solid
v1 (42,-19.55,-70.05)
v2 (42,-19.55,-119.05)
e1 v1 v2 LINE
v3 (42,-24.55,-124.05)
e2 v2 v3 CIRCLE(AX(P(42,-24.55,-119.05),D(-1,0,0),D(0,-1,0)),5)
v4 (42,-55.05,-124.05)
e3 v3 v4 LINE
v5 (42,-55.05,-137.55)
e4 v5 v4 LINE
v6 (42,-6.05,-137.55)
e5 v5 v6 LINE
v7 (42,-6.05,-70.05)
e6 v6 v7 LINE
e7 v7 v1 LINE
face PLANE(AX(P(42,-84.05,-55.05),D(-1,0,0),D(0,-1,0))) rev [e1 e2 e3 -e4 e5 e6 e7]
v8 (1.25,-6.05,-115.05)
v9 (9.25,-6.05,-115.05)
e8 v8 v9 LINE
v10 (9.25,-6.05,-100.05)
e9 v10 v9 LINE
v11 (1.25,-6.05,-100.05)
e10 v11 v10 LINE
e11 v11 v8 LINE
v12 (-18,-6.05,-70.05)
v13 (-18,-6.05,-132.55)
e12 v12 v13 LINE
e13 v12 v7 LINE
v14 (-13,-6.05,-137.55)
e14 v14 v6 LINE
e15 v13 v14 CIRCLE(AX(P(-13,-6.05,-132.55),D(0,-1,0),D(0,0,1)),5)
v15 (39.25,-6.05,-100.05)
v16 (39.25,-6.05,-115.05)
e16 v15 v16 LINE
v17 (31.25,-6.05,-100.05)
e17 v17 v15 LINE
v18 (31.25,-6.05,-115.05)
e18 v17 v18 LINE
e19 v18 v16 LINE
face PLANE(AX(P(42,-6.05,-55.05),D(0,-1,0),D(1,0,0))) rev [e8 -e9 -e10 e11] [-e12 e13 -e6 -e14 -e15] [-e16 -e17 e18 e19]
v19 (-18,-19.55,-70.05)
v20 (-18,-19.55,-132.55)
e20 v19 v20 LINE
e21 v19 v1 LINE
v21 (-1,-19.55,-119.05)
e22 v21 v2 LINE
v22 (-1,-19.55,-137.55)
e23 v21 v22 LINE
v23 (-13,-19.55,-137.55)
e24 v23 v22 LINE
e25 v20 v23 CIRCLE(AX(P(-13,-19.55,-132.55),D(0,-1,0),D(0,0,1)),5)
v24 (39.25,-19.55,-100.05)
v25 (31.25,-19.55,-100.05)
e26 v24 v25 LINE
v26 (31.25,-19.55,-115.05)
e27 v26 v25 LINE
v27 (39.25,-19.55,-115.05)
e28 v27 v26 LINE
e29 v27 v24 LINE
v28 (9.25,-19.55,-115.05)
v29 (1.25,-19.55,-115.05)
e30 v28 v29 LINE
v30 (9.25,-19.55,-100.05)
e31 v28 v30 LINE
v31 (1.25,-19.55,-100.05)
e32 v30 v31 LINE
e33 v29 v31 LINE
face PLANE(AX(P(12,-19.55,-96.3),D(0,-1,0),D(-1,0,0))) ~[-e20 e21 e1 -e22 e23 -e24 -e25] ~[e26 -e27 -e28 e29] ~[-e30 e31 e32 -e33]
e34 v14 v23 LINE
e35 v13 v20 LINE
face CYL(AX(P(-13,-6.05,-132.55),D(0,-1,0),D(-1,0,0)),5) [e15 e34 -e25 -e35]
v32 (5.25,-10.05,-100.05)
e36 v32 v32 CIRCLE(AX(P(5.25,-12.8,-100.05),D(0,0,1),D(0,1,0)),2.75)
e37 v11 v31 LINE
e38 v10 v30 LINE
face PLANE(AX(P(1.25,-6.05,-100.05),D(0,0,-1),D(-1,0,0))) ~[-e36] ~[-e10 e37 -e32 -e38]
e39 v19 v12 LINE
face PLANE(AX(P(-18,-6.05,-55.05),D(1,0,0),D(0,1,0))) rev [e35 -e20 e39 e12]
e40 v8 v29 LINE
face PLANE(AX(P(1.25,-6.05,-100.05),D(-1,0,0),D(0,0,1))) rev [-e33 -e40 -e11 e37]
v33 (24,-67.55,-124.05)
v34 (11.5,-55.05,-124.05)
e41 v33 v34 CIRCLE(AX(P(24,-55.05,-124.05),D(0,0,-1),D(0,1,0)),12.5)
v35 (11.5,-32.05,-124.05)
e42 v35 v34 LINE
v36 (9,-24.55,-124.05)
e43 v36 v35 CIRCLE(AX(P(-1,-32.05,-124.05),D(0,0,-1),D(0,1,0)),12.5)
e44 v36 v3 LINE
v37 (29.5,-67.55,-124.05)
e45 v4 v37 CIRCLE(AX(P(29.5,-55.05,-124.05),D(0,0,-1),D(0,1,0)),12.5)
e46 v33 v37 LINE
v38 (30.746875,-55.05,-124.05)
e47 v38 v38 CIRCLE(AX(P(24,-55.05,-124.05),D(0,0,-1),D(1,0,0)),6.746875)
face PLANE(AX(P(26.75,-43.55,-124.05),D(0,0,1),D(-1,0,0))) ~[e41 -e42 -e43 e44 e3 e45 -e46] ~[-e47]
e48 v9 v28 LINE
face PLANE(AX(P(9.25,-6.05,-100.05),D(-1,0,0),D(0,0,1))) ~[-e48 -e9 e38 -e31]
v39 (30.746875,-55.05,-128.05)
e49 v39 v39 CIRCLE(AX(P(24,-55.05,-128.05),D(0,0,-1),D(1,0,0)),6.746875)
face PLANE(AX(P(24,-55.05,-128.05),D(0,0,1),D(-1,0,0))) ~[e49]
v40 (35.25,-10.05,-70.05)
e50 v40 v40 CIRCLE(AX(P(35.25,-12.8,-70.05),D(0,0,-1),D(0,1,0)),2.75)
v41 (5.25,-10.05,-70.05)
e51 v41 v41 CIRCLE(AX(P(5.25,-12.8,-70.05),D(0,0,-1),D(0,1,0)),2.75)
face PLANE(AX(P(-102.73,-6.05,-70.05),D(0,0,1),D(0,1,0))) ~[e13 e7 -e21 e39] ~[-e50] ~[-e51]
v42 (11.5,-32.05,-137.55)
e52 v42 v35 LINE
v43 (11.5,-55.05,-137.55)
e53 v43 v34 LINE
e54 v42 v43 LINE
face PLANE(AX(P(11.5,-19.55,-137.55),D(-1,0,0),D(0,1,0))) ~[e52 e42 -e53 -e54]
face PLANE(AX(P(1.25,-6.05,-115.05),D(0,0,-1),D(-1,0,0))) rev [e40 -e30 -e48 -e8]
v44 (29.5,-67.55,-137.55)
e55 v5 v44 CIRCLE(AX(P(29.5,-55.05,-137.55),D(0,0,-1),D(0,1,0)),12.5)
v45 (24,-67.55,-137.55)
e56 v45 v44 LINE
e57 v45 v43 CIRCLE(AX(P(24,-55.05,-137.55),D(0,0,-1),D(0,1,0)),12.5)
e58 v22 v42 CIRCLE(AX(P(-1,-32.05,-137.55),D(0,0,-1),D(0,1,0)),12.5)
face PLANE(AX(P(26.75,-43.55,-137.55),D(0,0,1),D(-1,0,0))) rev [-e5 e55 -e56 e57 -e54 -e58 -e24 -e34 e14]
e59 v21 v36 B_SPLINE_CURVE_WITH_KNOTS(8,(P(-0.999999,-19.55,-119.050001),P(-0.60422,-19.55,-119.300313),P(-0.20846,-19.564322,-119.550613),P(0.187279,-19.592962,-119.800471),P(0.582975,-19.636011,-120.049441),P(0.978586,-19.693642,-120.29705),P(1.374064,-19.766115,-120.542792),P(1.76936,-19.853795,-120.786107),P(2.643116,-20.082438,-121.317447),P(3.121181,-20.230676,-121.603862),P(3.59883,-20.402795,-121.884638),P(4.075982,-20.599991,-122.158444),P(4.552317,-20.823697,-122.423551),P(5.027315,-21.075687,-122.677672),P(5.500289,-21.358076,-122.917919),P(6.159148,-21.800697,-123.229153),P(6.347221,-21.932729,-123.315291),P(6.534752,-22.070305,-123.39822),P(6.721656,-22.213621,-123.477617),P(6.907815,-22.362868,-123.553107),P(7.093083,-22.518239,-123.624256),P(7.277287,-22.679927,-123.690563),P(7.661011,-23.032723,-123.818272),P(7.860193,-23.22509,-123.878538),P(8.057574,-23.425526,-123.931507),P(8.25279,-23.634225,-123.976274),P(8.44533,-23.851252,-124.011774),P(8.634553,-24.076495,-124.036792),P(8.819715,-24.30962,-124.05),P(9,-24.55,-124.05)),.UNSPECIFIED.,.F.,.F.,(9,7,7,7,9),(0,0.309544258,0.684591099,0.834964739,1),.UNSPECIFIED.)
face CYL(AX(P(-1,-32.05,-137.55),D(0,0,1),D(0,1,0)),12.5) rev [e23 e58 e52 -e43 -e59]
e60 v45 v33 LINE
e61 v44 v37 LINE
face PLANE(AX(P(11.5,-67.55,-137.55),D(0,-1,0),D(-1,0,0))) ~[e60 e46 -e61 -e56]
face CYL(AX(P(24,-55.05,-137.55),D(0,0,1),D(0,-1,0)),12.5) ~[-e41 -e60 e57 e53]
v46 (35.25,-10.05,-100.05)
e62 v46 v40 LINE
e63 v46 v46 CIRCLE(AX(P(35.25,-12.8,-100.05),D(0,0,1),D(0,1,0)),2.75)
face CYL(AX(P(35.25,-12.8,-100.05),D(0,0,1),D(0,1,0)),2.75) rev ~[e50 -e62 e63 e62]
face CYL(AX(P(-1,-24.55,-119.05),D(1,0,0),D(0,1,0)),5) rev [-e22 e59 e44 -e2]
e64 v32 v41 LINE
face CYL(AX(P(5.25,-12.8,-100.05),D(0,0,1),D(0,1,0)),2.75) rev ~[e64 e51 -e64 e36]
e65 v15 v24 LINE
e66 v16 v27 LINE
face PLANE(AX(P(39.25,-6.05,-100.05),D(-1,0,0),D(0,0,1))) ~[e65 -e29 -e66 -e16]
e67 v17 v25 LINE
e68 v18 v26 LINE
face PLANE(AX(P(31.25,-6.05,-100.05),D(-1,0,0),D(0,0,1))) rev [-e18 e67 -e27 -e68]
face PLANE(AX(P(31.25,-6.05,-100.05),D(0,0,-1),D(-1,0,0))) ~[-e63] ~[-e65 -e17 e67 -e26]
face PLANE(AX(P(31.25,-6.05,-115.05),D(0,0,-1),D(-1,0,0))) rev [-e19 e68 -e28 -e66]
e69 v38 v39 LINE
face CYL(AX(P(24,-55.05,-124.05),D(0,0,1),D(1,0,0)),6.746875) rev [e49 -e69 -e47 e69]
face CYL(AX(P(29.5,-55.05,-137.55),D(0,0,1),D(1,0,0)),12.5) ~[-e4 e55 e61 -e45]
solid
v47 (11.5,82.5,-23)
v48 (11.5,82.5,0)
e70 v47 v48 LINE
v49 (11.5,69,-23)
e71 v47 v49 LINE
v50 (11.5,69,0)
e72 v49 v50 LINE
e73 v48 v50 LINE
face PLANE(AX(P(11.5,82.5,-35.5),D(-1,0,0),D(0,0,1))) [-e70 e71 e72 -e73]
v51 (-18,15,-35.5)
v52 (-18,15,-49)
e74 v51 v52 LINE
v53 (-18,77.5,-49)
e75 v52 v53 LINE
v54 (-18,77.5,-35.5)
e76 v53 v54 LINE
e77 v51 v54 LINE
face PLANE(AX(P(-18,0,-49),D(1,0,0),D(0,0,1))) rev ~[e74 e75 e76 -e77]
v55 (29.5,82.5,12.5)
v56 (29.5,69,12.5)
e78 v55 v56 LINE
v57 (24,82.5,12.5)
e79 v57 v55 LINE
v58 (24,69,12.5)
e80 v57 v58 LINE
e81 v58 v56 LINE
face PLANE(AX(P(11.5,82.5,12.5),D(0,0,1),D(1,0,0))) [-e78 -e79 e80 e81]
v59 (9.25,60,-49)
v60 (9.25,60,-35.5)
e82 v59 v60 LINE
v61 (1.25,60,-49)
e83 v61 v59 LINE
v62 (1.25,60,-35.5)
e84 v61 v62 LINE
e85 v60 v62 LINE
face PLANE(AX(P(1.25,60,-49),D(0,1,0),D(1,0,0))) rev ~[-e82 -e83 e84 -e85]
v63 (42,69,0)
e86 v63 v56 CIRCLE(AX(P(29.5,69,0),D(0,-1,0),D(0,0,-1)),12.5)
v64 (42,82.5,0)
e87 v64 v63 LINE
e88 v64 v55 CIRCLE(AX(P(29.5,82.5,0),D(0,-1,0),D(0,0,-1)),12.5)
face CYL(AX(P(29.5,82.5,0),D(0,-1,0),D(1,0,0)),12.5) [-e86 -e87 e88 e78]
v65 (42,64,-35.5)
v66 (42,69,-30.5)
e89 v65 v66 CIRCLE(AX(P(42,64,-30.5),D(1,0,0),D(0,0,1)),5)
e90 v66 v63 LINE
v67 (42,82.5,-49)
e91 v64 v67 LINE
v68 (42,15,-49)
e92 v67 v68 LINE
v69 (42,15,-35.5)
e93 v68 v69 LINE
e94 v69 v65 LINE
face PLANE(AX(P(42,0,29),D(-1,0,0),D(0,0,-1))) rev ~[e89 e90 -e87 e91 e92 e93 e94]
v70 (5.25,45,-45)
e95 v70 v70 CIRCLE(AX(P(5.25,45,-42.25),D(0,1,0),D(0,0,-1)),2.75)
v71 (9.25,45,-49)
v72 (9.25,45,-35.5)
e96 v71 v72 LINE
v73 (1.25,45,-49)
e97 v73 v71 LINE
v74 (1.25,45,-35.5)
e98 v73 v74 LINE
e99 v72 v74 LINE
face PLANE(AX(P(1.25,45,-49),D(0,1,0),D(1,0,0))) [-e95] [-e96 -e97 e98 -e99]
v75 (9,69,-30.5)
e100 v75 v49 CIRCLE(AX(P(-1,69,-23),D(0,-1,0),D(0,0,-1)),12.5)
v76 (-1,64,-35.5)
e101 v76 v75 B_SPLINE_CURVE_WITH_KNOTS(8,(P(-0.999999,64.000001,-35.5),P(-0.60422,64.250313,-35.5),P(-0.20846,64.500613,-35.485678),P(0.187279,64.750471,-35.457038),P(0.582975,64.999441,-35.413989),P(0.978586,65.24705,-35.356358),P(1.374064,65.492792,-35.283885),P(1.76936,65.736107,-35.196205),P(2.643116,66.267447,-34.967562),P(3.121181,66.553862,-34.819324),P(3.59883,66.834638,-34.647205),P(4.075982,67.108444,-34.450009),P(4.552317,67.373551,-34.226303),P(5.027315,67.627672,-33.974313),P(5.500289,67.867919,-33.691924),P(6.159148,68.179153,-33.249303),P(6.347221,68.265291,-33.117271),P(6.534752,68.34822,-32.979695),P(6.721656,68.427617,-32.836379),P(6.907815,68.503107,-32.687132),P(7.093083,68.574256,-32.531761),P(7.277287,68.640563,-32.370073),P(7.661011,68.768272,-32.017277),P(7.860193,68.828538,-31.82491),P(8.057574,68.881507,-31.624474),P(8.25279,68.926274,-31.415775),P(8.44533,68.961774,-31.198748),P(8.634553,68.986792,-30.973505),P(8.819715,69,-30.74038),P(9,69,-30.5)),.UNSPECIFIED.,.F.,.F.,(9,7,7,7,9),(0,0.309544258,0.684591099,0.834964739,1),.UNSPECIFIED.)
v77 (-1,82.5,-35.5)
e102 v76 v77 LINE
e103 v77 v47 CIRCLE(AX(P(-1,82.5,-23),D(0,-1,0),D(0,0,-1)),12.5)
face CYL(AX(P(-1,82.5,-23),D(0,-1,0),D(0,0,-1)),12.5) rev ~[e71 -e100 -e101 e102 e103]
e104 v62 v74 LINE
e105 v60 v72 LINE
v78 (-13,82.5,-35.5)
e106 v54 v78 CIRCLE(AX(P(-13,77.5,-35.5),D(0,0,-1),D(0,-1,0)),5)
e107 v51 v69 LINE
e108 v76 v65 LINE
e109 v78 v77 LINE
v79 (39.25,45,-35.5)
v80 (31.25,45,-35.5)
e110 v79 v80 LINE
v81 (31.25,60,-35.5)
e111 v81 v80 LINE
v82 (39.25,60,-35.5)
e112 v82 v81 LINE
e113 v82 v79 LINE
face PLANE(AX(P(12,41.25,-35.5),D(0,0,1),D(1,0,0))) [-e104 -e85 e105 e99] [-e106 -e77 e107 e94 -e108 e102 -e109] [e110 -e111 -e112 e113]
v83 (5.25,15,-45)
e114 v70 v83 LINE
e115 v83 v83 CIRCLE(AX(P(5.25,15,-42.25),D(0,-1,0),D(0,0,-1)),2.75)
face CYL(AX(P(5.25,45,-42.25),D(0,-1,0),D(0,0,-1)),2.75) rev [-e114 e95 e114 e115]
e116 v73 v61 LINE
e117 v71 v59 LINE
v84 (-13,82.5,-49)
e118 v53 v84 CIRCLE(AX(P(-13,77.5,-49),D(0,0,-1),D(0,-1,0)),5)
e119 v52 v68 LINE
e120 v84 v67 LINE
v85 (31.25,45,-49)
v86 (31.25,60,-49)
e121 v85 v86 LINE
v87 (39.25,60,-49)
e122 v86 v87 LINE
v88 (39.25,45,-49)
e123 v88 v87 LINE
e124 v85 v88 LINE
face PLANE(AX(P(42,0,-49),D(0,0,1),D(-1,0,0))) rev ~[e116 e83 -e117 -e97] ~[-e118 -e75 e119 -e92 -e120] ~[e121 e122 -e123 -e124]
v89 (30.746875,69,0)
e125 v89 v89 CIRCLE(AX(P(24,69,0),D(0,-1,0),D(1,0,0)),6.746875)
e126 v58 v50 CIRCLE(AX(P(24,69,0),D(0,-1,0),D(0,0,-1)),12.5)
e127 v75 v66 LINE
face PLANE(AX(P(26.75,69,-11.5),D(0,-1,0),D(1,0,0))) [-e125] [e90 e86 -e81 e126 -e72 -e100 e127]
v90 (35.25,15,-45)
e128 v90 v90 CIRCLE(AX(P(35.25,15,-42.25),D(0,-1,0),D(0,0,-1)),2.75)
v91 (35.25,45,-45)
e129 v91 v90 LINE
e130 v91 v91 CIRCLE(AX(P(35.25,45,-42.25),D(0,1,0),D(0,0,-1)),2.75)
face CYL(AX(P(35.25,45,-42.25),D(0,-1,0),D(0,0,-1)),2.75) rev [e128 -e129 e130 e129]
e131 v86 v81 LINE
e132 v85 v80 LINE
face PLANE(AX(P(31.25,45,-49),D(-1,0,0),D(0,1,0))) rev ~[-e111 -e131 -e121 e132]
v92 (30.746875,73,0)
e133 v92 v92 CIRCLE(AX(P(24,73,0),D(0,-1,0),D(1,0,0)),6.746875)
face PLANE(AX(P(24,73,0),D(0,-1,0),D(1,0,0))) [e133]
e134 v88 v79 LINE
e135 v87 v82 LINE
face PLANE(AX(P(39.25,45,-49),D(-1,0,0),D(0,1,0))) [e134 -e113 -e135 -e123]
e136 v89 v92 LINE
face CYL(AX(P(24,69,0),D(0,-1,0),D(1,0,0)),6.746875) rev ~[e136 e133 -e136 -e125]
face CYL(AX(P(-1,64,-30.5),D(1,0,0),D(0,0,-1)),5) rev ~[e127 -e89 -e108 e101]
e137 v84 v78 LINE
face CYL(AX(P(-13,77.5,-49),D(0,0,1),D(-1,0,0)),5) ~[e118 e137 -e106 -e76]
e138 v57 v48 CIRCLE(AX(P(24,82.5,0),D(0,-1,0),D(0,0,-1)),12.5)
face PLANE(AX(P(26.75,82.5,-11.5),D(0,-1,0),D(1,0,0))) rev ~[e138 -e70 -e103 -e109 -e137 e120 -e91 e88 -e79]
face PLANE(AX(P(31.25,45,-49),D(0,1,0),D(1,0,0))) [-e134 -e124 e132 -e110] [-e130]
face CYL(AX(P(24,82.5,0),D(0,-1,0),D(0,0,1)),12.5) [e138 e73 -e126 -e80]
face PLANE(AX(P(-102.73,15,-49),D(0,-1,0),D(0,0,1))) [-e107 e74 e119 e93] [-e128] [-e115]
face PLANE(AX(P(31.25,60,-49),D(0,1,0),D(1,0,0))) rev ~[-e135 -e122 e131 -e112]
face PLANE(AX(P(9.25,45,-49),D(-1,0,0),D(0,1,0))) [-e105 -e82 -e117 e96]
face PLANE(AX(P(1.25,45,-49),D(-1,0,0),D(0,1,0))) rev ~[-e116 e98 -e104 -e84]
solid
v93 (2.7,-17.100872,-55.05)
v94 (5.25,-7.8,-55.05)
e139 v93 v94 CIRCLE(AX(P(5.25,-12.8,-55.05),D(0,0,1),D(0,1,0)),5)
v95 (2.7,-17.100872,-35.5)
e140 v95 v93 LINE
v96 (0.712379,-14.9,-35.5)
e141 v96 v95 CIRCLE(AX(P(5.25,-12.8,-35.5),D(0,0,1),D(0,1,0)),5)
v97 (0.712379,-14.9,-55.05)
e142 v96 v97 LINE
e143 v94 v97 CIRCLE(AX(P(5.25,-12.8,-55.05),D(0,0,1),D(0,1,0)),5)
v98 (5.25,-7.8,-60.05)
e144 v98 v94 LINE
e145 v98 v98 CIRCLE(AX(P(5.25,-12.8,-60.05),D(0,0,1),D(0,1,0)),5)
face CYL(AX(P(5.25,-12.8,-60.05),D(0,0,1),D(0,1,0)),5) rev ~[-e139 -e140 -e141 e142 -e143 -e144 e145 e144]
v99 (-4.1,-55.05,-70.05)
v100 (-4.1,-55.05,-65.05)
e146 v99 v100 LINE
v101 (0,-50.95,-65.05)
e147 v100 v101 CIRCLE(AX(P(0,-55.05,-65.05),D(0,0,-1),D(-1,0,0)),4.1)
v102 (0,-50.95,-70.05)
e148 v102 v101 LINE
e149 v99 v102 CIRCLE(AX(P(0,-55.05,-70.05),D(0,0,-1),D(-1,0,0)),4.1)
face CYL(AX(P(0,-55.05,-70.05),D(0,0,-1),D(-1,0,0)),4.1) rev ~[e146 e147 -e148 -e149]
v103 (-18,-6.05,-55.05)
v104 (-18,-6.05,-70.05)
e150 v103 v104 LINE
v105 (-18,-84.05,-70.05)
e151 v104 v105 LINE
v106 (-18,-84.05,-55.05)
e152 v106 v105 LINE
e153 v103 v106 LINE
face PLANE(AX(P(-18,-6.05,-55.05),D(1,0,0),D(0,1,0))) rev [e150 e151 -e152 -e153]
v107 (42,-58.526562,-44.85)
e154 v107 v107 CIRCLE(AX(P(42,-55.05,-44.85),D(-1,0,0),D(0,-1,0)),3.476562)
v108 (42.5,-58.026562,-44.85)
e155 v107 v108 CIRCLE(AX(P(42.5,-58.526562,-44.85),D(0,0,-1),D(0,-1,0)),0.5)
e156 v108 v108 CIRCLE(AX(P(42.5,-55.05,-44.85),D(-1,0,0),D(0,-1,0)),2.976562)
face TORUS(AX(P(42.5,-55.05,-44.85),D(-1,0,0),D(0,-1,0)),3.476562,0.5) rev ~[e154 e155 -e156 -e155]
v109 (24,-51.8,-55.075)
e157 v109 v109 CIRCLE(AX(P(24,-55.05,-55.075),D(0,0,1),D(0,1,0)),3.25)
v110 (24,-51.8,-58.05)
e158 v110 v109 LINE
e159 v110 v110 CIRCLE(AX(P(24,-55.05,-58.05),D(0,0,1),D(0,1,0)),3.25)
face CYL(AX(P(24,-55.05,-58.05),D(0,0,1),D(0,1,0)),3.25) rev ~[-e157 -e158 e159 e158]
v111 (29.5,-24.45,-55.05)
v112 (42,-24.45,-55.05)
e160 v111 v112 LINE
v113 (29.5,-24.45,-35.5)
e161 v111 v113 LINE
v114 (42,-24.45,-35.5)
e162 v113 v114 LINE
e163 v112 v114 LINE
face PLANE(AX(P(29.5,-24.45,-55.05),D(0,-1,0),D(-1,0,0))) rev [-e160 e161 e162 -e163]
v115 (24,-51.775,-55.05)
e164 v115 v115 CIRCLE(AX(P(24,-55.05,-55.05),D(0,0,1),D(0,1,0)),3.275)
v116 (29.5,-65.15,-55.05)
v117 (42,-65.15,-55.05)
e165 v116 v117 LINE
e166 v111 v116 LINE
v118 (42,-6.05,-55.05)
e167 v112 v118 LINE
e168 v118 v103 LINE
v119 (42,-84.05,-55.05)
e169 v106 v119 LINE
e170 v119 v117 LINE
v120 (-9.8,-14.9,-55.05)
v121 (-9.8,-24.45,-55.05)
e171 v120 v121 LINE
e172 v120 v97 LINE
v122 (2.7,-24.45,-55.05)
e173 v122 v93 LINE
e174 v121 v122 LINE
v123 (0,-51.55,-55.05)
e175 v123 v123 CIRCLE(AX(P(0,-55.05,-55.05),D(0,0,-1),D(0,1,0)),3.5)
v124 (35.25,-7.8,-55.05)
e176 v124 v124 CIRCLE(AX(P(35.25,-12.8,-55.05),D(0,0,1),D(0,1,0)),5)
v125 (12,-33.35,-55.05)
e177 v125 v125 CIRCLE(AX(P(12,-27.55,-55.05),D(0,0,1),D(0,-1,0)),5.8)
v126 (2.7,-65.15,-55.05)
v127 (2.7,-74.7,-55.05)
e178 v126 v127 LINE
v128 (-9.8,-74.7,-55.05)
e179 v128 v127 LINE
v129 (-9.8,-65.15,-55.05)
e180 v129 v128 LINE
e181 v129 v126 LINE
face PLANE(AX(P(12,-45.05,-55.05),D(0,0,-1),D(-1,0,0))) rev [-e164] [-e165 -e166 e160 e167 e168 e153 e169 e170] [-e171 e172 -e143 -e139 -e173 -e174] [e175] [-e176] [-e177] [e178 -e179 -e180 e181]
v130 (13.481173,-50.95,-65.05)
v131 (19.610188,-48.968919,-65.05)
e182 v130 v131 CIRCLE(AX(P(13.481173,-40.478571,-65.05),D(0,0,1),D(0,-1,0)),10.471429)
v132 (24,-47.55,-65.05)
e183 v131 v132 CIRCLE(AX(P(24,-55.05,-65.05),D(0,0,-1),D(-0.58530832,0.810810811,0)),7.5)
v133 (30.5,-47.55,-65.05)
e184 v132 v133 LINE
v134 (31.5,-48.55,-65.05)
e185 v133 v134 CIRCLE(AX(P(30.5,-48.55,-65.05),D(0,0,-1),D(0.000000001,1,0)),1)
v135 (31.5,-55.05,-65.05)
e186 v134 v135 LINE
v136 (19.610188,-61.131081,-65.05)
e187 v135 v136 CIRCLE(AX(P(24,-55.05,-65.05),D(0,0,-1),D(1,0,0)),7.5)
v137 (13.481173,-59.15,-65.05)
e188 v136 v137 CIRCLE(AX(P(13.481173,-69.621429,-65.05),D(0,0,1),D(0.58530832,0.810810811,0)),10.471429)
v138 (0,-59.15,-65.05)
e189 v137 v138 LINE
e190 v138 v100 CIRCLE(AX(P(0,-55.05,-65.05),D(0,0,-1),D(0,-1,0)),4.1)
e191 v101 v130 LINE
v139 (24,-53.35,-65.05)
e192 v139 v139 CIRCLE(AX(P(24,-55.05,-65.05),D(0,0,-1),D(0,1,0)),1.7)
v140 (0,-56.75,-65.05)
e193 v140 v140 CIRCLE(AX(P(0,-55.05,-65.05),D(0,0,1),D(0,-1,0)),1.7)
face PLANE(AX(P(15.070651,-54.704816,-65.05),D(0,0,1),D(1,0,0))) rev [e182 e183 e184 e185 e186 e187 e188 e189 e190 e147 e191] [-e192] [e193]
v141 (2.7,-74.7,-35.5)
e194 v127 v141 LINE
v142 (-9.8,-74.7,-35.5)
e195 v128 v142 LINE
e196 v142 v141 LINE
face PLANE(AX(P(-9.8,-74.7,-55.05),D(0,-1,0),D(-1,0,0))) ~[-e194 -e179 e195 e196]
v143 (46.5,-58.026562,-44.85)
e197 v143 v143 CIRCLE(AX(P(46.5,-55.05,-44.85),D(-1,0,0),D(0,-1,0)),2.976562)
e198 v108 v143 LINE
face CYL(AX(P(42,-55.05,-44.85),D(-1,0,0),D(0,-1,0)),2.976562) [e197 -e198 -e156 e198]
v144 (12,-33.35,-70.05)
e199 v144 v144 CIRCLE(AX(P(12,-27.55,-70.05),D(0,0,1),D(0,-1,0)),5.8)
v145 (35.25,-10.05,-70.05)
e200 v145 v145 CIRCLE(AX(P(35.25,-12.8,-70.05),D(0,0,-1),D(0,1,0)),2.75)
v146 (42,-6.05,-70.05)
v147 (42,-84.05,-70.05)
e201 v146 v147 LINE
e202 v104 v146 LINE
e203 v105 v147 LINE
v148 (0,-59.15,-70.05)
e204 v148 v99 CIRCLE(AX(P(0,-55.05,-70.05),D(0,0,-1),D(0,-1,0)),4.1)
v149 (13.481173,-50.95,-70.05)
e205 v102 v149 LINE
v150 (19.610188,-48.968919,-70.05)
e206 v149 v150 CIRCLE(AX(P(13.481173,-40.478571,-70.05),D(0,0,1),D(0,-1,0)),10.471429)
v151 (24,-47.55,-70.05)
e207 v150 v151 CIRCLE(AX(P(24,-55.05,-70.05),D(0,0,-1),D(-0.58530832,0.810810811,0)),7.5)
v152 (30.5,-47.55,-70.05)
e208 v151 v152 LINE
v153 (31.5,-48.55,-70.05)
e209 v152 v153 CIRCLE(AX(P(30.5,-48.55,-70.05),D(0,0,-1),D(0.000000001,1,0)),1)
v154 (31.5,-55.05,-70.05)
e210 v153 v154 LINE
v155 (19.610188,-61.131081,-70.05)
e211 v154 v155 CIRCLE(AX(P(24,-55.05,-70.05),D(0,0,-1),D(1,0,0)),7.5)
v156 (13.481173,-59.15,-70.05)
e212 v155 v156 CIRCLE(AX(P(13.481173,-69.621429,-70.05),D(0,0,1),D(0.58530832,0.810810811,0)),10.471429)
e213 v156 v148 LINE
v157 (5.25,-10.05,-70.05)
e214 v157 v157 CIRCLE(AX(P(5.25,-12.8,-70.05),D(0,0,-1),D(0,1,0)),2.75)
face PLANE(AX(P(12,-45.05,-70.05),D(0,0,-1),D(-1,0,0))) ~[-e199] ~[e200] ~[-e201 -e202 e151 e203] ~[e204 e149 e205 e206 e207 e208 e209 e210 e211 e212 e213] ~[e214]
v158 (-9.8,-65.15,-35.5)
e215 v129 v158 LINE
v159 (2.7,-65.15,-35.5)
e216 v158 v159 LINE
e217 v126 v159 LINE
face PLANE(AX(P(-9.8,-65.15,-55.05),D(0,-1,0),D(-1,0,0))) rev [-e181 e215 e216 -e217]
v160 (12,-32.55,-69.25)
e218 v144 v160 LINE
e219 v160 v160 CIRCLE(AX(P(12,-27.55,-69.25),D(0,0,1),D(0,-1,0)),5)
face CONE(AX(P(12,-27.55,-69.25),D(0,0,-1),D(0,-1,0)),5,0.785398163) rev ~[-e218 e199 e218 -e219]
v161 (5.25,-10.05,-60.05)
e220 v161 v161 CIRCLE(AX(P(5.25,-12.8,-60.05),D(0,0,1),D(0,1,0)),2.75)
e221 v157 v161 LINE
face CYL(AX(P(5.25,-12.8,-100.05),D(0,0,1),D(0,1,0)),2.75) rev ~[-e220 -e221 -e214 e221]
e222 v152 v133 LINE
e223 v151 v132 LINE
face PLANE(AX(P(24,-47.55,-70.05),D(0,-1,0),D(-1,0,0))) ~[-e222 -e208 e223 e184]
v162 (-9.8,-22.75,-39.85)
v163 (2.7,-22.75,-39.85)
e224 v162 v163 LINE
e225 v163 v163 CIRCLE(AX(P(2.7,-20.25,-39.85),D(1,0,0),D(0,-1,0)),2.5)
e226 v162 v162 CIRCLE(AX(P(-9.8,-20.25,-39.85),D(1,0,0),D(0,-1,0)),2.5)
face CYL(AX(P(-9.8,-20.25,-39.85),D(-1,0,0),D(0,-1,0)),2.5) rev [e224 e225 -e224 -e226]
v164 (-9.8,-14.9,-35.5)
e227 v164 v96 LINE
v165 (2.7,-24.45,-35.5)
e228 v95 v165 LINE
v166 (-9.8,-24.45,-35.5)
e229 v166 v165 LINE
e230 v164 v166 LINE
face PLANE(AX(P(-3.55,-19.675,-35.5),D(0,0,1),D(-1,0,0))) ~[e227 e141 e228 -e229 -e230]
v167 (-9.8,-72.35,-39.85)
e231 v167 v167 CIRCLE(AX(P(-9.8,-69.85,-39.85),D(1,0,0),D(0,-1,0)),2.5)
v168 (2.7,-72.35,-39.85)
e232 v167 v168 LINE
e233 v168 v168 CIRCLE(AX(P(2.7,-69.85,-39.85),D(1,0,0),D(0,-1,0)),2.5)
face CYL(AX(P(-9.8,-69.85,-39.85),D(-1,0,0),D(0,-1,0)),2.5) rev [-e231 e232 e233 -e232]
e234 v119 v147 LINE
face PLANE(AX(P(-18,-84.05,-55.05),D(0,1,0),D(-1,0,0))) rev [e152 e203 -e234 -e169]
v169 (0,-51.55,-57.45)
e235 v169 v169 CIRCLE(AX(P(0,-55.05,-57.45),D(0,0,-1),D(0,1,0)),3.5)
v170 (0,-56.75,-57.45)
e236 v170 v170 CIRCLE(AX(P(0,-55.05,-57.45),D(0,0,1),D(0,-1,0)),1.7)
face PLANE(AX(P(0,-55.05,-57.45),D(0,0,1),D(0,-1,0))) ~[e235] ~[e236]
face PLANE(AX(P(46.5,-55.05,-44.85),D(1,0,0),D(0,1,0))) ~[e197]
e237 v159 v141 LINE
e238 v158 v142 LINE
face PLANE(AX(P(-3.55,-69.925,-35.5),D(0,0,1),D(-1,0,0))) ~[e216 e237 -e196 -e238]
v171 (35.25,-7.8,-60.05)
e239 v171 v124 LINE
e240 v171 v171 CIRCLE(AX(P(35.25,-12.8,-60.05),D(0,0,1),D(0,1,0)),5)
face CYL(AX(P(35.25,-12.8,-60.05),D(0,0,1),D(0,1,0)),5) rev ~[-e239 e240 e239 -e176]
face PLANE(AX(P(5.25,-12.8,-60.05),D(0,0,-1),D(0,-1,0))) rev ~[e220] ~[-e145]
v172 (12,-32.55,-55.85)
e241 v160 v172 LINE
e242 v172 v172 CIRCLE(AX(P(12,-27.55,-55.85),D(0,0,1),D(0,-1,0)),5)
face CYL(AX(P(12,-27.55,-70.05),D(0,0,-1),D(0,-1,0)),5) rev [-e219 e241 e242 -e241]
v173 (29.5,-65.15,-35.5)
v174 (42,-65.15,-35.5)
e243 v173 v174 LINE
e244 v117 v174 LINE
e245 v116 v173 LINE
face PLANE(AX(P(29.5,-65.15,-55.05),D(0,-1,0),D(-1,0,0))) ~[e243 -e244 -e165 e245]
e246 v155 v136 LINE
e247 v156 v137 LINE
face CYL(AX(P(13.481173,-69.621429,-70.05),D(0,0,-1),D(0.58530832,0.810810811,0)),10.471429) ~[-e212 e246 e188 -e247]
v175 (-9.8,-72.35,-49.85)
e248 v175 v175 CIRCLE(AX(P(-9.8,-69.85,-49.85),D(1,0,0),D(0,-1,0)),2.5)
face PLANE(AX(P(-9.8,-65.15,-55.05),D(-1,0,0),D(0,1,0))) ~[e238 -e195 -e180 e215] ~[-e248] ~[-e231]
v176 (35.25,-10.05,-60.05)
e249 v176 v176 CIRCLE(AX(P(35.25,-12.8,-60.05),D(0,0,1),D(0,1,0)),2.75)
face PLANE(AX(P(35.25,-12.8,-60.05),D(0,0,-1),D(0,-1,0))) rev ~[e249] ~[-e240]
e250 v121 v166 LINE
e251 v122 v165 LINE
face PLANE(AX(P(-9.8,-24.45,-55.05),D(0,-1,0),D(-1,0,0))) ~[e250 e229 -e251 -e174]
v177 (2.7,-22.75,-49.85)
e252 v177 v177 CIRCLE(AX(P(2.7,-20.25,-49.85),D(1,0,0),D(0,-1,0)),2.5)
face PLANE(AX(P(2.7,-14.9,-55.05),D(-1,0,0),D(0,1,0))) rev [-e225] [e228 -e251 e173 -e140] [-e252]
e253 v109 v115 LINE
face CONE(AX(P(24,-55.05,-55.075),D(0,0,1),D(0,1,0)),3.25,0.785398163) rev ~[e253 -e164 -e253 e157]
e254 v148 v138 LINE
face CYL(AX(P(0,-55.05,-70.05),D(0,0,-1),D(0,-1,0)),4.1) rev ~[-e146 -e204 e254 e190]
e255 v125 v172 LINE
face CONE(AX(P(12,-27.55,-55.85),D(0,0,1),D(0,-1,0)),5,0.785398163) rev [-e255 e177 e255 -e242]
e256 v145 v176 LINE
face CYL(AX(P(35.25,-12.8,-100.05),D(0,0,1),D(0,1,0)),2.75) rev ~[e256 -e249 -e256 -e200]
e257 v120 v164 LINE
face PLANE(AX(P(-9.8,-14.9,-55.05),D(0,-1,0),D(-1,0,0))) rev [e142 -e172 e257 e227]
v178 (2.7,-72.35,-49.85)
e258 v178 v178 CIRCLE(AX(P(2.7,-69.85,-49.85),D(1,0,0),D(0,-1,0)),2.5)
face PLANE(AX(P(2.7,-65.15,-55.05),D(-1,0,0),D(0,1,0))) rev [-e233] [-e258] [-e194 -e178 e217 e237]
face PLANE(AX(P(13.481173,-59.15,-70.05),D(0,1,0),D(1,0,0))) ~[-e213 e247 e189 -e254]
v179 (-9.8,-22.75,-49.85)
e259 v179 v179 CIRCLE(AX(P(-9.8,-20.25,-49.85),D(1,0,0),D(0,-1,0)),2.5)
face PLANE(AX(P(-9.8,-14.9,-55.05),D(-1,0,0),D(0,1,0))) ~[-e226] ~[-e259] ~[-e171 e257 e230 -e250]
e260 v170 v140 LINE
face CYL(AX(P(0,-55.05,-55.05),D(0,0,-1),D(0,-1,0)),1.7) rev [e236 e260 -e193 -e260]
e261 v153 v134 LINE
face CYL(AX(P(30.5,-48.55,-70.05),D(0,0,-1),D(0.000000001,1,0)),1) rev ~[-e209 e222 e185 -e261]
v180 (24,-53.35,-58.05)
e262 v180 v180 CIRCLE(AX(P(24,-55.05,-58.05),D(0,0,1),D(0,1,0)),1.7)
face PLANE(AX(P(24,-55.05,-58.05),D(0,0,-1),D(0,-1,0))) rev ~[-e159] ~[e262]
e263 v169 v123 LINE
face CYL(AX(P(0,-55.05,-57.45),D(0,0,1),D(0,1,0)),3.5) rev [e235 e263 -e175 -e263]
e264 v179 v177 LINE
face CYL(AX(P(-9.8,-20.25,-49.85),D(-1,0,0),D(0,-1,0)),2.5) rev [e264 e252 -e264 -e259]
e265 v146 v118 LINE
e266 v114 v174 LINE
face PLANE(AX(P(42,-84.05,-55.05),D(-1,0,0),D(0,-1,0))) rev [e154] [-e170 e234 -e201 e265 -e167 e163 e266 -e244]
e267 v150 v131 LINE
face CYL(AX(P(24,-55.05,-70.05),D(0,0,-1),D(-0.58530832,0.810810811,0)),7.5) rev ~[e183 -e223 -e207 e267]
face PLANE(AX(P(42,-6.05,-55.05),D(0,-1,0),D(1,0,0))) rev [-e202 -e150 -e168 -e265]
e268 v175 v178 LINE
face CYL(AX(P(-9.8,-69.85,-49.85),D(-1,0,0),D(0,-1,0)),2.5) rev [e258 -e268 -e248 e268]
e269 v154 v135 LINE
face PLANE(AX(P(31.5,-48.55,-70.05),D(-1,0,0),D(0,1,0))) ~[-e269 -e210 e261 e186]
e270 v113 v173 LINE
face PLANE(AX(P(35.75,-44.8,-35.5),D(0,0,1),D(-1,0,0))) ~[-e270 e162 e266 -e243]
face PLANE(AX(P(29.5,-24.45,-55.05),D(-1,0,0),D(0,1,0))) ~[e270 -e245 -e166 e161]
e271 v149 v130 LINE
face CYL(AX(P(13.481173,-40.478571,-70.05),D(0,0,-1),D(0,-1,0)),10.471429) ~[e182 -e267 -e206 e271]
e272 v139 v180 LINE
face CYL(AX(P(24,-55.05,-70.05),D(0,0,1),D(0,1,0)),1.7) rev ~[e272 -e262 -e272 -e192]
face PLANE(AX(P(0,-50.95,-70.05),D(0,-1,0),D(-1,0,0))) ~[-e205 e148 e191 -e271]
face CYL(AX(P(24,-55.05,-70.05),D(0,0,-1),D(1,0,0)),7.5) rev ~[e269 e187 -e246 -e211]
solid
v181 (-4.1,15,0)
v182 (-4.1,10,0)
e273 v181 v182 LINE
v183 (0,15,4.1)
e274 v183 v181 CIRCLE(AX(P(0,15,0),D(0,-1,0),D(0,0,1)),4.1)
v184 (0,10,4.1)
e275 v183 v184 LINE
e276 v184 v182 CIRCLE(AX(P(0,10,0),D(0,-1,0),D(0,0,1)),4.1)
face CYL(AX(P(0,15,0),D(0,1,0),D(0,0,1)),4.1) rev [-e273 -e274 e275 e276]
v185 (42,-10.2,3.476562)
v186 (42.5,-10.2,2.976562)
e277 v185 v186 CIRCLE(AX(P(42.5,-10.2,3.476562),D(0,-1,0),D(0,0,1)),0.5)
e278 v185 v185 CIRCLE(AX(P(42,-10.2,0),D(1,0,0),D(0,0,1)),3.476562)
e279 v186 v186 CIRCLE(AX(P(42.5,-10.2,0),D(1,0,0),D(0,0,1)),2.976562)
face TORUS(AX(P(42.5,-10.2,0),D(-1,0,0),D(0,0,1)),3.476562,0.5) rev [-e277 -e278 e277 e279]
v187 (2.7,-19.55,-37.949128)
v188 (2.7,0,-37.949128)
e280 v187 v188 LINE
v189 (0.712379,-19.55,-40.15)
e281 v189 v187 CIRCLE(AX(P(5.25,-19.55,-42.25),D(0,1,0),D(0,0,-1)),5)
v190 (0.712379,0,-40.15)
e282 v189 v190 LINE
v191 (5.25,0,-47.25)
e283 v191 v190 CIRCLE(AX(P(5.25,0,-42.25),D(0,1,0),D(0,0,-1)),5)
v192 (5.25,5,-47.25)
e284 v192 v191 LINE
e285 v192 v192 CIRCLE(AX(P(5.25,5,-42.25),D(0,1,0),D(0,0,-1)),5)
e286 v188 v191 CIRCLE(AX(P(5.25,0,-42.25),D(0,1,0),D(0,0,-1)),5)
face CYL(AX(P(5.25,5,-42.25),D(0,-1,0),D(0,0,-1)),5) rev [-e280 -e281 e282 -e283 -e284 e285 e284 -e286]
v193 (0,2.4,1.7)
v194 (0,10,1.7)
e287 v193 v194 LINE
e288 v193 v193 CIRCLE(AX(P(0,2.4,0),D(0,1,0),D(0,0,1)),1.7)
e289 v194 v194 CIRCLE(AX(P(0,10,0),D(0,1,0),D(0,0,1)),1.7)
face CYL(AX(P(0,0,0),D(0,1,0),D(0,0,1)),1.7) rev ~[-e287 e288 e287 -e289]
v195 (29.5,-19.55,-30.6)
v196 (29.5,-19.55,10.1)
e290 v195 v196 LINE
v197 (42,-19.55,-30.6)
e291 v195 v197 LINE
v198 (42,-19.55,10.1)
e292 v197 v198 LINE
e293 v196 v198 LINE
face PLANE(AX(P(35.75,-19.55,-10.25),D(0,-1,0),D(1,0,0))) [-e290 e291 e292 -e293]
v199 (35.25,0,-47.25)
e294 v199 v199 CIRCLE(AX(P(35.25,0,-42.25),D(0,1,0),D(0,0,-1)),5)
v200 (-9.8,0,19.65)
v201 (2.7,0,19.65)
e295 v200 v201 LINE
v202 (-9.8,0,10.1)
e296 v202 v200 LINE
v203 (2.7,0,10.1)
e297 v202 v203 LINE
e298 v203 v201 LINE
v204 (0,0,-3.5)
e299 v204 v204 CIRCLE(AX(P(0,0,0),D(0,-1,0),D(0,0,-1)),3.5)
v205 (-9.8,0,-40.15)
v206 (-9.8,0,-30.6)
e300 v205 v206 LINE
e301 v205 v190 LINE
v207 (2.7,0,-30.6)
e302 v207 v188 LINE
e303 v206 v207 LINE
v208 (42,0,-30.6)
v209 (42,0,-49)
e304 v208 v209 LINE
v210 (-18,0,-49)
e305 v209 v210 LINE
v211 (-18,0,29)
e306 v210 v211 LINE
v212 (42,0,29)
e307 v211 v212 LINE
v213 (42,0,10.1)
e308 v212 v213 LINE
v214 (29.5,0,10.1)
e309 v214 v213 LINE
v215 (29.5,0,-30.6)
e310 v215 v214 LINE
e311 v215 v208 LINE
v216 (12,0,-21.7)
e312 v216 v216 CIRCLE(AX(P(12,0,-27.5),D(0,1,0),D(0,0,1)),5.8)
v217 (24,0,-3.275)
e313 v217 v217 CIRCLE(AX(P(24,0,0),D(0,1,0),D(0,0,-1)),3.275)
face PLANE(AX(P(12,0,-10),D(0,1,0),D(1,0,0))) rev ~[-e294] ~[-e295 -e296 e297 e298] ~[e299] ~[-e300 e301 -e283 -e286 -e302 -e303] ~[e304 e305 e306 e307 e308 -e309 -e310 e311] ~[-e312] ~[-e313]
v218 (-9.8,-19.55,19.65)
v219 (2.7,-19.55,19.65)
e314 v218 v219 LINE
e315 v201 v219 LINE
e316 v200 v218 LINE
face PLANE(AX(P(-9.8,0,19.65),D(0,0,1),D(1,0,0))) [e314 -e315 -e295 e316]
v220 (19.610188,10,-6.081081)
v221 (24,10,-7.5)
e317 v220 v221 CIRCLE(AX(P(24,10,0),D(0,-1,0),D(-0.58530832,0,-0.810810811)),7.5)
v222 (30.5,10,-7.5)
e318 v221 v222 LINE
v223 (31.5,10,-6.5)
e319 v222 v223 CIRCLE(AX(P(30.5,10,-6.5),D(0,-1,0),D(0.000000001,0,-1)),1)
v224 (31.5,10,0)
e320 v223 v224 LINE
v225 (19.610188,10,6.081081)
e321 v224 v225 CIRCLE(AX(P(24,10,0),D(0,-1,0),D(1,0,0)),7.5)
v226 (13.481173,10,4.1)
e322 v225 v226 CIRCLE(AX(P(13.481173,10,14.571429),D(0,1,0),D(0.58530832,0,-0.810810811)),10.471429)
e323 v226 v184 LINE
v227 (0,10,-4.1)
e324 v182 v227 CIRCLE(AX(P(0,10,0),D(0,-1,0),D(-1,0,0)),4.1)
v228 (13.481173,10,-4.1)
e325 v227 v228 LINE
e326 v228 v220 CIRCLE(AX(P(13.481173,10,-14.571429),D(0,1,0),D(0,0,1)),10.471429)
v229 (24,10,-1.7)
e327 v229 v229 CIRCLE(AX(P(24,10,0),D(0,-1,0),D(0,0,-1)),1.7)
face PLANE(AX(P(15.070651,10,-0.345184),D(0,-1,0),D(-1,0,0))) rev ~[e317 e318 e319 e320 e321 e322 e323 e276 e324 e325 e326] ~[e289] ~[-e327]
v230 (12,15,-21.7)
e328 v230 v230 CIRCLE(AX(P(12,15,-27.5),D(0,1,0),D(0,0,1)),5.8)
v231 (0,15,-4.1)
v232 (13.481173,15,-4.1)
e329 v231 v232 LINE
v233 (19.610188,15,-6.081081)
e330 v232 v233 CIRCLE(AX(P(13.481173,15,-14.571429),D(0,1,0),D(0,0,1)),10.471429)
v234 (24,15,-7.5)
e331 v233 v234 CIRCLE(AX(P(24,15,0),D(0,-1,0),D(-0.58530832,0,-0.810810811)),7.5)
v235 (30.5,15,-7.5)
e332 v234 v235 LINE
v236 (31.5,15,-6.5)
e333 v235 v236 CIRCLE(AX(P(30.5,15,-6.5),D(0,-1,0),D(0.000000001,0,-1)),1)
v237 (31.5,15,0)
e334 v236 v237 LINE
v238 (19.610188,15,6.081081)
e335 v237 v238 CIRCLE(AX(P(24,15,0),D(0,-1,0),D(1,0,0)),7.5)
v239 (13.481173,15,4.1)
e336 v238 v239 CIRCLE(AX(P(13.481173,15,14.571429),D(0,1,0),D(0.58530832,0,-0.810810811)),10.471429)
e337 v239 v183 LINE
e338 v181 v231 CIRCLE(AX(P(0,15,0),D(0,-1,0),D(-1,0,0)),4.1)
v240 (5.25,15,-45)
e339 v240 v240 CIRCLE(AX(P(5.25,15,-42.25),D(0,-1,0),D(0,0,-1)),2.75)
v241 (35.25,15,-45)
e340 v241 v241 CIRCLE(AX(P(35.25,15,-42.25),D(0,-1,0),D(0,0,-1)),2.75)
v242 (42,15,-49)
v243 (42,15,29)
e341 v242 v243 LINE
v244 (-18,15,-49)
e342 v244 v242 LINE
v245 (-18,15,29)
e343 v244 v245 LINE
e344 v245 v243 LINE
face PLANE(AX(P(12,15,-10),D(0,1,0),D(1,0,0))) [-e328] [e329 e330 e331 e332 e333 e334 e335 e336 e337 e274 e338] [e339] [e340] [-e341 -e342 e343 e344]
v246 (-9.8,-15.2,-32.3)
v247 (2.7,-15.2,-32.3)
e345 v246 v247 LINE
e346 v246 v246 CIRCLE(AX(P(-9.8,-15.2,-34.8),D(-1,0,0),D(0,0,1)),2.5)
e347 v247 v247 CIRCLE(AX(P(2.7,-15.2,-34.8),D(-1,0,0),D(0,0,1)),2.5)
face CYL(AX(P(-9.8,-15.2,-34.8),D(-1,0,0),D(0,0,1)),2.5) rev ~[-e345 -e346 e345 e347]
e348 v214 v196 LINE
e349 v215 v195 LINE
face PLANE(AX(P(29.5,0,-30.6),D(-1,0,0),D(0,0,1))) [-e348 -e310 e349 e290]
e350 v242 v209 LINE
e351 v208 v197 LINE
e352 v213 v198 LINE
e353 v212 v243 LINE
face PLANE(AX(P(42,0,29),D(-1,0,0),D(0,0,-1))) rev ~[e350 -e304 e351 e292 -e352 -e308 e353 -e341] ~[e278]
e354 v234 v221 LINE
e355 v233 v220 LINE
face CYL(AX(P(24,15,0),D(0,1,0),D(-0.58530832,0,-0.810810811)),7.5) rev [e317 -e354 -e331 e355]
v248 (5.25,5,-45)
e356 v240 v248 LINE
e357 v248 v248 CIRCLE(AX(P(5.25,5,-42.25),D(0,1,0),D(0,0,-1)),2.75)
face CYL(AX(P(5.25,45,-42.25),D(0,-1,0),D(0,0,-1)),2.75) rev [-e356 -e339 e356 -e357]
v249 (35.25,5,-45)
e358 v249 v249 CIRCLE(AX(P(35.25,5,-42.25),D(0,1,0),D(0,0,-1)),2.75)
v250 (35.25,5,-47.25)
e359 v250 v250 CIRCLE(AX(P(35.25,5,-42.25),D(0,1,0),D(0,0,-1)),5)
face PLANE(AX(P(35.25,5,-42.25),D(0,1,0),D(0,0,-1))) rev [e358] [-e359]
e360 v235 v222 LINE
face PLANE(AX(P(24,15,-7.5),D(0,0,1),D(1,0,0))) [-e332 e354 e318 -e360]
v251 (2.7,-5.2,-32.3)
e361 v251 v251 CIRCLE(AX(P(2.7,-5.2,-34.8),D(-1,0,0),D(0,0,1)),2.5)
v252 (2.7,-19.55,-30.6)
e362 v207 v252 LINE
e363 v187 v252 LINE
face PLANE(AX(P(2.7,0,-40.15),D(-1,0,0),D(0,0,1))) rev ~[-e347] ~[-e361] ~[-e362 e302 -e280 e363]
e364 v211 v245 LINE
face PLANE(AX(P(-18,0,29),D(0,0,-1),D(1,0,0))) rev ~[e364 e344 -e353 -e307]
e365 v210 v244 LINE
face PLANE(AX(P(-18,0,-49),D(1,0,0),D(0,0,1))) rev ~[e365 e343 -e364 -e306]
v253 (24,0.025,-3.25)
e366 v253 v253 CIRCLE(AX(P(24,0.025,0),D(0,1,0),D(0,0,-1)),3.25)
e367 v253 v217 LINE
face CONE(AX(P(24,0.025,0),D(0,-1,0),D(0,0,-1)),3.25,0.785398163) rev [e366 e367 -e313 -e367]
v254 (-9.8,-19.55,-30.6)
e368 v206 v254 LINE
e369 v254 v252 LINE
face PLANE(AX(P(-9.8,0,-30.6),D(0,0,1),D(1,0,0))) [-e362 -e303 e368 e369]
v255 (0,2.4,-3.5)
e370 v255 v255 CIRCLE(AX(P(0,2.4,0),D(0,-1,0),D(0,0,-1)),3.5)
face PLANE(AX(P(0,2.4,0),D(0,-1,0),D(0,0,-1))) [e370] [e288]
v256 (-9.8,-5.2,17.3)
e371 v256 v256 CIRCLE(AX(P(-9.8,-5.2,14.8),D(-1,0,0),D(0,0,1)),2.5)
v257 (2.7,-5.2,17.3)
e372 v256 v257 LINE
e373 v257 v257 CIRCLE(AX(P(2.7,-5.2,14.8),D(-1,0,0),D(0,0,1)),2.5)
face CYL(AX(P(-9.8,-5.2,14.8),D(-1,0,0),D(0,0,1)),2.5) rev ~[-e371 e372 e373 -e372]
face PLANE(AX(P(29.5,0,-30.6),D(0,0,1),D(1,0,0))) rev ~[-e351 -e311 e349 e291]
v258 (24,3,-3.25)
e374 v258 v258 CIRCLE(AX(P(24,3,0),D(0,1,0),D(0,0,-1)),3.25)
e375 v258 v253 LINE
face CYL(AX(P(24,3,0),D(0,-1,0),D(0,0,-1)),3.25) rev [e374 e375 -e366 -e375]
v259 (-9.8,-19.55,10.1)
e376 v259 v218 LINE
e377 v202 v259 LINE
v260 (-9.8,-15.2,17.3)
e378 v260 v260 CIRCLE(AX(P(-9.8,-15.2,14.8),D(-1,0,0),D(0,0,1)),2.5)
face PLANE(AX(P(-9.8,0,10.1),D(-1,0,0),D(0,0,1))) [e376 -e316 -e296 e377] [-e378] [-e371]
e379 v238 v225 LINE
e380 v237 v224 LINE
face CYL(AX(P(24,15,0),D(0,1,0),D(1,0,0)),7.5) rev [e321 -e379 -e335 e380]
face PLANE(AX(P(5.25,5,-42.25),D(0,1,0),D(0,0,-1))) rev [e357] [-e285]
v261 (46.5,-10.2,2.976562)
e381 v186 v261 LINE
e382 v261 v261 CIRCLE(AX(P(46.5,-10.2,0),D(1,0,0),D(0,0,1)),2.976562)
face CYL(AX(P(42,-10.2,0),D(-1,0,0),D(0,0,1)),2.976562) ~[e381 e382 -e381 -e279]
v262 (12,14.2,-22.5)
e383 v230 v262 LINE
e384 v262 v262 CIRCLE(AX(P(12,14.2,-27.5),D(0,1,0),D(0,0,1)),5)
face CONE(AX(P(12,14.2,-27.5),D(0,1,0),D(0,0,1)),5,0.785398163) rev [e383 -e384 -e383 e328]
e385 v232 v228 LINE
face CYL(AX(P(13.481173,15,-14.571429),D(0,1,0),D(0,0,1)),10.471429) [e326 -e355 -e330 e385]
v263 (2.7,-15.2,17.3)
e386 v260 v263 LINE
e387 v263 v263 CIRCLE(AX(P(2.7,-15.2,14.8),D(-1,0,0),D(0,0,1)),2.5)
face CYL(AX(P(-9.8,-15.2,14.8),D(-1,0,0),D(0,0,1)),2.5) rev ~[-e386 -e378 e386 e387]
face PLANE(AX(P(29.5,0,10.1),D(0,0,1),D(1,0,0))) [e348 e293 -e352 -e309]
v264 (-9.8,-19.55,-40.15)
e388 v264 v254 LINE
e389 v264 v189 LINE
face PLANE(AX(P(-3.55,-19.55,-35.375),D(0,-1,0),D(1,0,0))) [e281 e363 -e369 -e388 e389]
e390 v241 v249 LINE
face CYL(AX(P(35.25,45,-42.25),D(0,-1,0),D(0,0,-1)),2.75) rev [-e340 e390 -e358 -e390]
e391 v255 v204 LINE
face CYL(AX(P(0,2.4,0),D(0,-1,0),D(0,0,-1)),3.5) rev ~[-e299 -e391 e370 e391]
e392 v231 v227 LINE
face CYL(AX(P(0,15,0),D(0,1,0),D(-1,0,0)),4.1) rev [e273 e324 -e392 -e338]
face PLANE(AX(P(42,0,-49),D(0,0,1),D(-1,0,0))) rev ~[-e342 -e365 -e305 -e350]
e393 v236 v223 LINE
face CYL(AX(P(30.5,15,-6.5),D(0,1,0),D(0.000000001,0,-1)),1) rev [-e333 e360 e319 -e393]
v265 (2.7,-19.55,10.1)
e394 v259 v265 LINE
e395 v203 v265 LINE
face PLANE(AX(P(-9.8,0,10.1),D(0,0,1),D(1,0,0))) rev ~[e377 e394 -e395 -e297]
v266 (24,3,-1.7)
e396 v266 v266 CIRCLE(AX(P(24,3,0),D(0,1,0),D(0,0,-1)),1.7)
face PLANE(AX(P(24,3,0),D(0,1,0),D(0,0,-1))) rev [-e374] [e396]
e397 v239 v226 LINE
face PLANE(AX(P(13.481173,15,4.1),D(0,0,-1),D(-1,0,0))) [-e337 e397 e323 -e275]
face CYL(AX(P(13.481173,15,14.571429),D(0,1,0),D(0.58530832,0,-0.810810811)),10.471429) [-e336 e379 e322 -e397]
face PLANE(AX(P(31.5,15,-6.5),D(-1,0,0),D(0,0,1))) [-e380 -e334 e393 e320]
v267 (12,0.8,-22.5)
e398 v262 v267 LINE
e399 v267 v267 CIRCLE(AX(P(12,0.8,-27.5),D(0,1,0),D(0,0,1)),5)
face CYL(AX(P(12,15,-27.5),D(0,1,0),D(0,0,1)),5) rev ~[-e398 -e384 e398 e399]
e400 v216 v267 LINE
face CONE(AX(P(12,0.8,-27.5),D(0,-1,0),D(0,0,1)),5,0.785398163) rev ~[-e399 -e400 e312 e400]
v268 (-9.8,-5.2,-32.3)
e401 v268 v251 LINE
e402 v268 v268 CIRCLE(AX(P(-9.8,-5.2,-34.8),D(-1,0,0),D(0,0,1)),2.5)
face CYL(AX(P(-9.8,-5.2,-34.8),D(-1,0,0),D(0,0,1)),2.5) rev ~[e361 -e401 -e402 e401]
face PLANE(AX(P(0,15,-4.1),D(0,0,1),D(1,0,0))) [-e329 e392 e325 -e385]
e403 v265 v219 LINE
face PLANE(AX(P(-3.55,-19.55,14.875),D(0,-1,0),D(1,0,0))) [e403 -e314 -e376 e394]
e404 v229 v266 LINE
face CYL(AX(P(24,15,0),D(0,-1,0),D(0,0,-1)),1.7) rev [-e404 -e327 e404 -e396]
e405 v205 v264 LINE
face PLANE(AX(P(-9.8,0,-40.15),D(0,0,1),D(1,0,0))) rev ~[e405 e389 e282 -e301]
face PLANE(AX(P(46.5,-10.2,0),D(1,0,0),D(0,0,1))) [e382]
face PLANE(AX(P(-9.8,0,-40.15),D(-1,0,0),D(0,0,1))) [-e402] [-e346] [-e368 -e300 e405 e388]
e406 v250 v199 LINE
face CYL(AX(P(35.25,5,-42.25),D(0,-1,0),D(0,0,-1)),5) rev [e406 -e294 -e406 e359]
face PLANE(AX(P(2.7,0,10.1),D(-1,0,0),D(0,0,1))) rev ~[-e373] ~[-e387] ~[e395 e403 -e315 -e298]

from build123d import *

# Parameters (mm, degrees)
BOSS_EXTRUDE1_DEPTH                              = 15
CUT_EXTRUDE2_DEPTH                               = 5
SKETCH12_W                                       = 12.5
SKETCH12_H                                       = 9.55
BOSS_EXTRUDE5_DEPTH                              = 19.55
SKETCH13_R                                       = 2.5
CUT_EXTRUDE3_DEPTH                               = 74.935394095
CBORE_FOR_M3_PAN_HEAD_MACHINE_SCREW1_D           = 3.4
CBORE_FOR_M3_PAN_HEAD_MACHINE_SCREW1_CBORE_D     = 7
CBORE_FOR_M3_PAN_HEAD_MACHINE_SCREW1_CBORE_DEPTH = 2.4
SKETCH14_W                                       = 60
SKETCH14_H                                       = 82.5
BOSS_EXTRUDE6_DEPTH                              = 13.5
SKETCH16_W                                       = 30.5
SKETCH16_H                                       = 48
BOSS_EXTRUDE7_DEPTH                              = 13.5
SKETCH17_R                                       = 6.746875
CUT_EXTRUDE4_DEPTH                               = 4
CHAMBRAGE_POUR_VIS_T_TE_CYLINDRIQUE_AT_COUNT     = 2
CHAMBRAGE_POUR_VIS_T_TE_CYLINDRIQUE_AT_PITCH     = 30
SKETCH22_W                                       = 12.5
SKETCH22_H                                       = 40.7
BOSS_EXTRUDE8_DEPTH                              = 19.55
SKETCH23_R                                       = 2.9765625
BOSS_EXTRUDE9_DEPTH                              = 4.5
FILLET2_R                                        = 0.5
ESQUISSE6_W                                      = 8
ESQUISSE6_H                                      = 15
ENL_V_MAT_EXTRU_4_DEPTH                          = 123.68863028
CONG_1_R                                         = 12.5
CONG_2_R                                         = 5
ESQUISSE7_R                                      = 5
ENL_V_MAT_EXTRU_5_DEPTH                          = 107.627857601
SPLIT3_SURFACE_1_BACK                            = 144.73
SPLIT3_SURFACE_1_DEPTH                           = 289.46
SPLIT3_SURFACE_2_BACK                            = 144.73
SPLIT3_SURFACE_2_DEPTH                           = 289.46
ESQUISSE4_R                                      = 5
ENL_V_MAT_EXTRU_2_DEPTH                          = 15
CHANFREIN1_SIZE                                  = 0.8


with BuildPart() as part:
    # Sketch1 → Boss-Extrude1 (new body)
    with BuildSketch(Plane(origin=(0, 0, 0), x_dir=(1, 0, 0), z_dir=(0, 1, 0))):
        Polygon((42, 29), (42, 49), (-18, 49), (-18, 29), (-18, -29), (42, -29), align=None)
    extrude(amount=BOSS_EXTRUDE1_DEPTH)

    # Sketch2 → Cut-Extrude2 (cut)
    with BuildSketch(Plane(origin=(0, 15, 0), x_dir=(1, 0, 0), z_dir=(0, 1, 0))):
        with BuildLine():
            Line((13.481173341, -4.1), (0, -4.1))
            ThreePointArc((0, -4.1), (-2.899137803, -2.899137803), (-4.1, 0))
            ThreePointArc((-4.1, 0), (-2.899137803, 2.899137803), (0, 4.1))
            Line((0, 4.1), (13.481173341, 4.1))
            ThreePointArc((13.481173341, 4.1), (16.701790443, 4.607571798), (19.610187602, 6.081081081))
            ThreePointArc((19.610187602, 6.081081081), (21.69328243, 7.13645949), (24, 7.5))
            Line((24, 7.5), (30.5, 7.5))
            ThreePointArc((30.5, 7.5), (31.207106781, 7.207106781), (31.5, 6.5))
            Line((31.5, 6.5), (31.5, 0))
            ThreePointArc((31.5, 0), (27.415143263, -6.677334535), (19.610187602, -6.081081081))
            ThreePointArc((19.610187602, -6.081081081), (16.701790443, -4.607571798), (13.481173341, -4.1))
        make_face()
    extrude(amount=-CUT_EXTRUDE2_DEPTH, mode=Mode.SUBTRACT)

    # Sketch11 → CBORE for M3 SHCS2 (revolve, cut)
    with BuildSketch(Plane(origin=(24, 0, 0), x_dir=(0, 0, -1), z_dir=(1, 0, 0))):
        Polygon((0, 0), (0, 15), (1.7, 15), (1.7, 3), (3.25, 3), (3.25, 0.025), (3.275, 0), align=None)
    revolve(axis=Axis((24, -6.35, 0), (0, 1, 0)), mode=Mode.SUBTRACT)

    # Sketch12 → Boss-Extrude5 (add)
    with BuildSketch(Plane.XZ):
        with Locations((-3.55, -35.375)):
            Rectangle(SKETCH12_W, SKETCH12_H)
        with Locations((-3.55, 14.875)):
            Rectangle(SKETCH12_W, SKETCH12_H)
    extrude(amount=BOSS_EXTRUDE5_DEPTH)

    # Sketch13 → Cut-Extrude3 (cut, through all)
    with BuildSketch(Plane.ZY.offset(9.8)):
        with Locations((14.8, -5.2)):
            Circle(SKETCH13_R)
        with Locations((14.8, -15.2)):
            Circle(SKETCH13_R)
        with Locations((-34.8, -5.2)):
            Circle(SKETCH13_R)
        with Locations((-34.8, -15.2)):
            Circle(SKETCH13_R)
    extrude(amount=-CUT_EXTRUDE3_DEPTH, mode=Mode.SUBTRACT)

    # CBORE for M3 Pan Head Machine Screw1 (through all)
    with Locations(Plane(origin=(0, 0, 0), x_dir=(0, 0, -1), z_dir=(0, -1, 0))):
        with Locations((0, 0)):
            CounterBoreHole(CBORE_FOR_M3_PAN_HEAD_MACHINE_SCREW1_D / 2, CBORE_FOR_M3_PAN_HEAD_MACHINE_SCREW1_CBORE_D / 2, CBORE_FOR_M3_PAN_HEAD_MACHINE_SCREW1_CBORE_DEPTH)

    # Sketch14 → Boss-Extrude6 (add)
    with BuildSketch(Plane(origin=(0, 49, -49), x_dir=(1, 0, 0), z_dir=(0, 0, 1))):
        with Locations((12, -7.75)):
            Rectangle(SKETCH14_W, SKETCH14_H)
    extrude(amount=BOSS_EXTRUDE6_DEPTH)

    # Sketch16 → Boss-Extrude7 (add)
    with BuildSketch(Plane(origin=(0, 82.5, -132), x_dir=(1, 0, 0), z_dir=(0, -1, 0))):
        with Locations((26.75, 120.5)):
            Rectangle(SKETCH16_W, SKETCH16_H)
    extrude(amount=BOSS_EXTRUDE7_DEPTH)

    # Sketch17 → Cut-Extrude4 (cut)
    with BuildSketch(Plane(origin=(0, 69, -77), x_dir=(1, 0, 0), z_dir=(0, -1, 0))):
        with Locations((24, 77)):
            Circle(SKETCH17_R)
    extrude(amount=-CUT_EXTRUDE4_DEPTH, mode=Mode.SUBTRACT)

    # Sketch20 → Chambrage pour vis à tête cylindrique à 6 pans creux (ou vis CHC) M51 (revolve, cut)
    with BuildSketch(Plane(origin=(35.25, 0, -42.25), x_dir=(0, 0, -1), z_dir=(1, 0, 0))):
        Polygon((0, 0), (0, 46.652366702), (2.75, 45), (2.75, 5), (5, 5), (5, 0), align=None)
    chambrage_pour_vis_t_te_cylindrique = revolve(axis=Axis((35.25, -6.35, -42.25), (0, 1, 0)), mode=Mode.SUBTRACT)

    # Chambrage pour vis à tête cylindrique à 6 pans creux (ou vis CHC) M51 at: Chambrage pour vis à tête cylindrique à 6 pans creux (ou vis CHC) M51 ×2
    with Locations(*[(-i * CHAMBRAGE_POUR_VIS_T_TE_CYLINDRIQUE_AT_PITCH, 0, 0) for i in range(1, CHAMBRAGE_POUR_VIS_T_TE_CYLINDRIQUE_AT_COUNT)]):
        add(chambrage_pour_vis_t_te_cylindrique, mode=Mode.SUBTRACT)

    # Sketch22 → Boss-Extrude8 (add)
    with BuildSketch(Plane.XZ):
        with Locations((35.75, -10.25)):
            Rectangle(SKETCH22_W, SKETCH22_H)
    extrude(amount=BOSS_EXTRUDE8_DEPTH)

    # Sketch23 → Boss-Extrude9 (add)
    with BuildSketch(Plane(origin=(42, 0, 0), x_dir=(0, 0, -1), z_dir=(1, 0, 0))):
        with Locations(Location((0, -10.2, 0), (0, 0, 180))):
            Circle(SKETCH23_R)
    extrude(amount=BOSS_EXTRUDE9_DEPTH)

    # Fillet2
    fillet2_edges = [part.edges().sort_by_distance(p)[0] for p in [
        (42, -10.2, -2.9765625),
    ]]
    fillet(fillet2_edges, radius=FILLET2_R)

    # Esquisse6 → Enlèv. mat.-Extru.4 (cut, through all)
    with BuildSketch(Plane.XY.offset(-49)):
        with Locations((35.25, 52.5)):
            Rectangle(ESQUISSE6_W, ESQUISSE6_H)
        with Locations((5.25, 52.5)):
            Rectangle(ESQUISSE6_W, ESQUISSE6_H)
    extrude(amount=ENL_V_MAT_EXTRU_4_DEPTH, mode=Mode.SUBTRACT)

    # Congé1
    cong_1_edges = [part.edges().sort_by_distance(p)[0] for p in [
        (11.5, 75.75, 12.5),
        (11.5, 75.75, -35.5),
        (42, 75.75, 12.5),
    ]]
    fillet(cong_1_edges, radius=CONG_1_R)

    # Congé2
    cong_2_edges = [part.edges().sort_by_distance(p)[0] for p in [
        (-18, 82.5, -42.25),
        (20.5, 69, -35.5),
    ]]
    fillet(cong_2_edges, radius=CONG_2_R)

    # Esquisse7 → Enlèv. mat.-Extru.5 (cut, through all)
    with BuildSketch(Plane.XZ):
        with Locations(Location((5.25, -42.25, 0), (0, 0, 270))):
            Circle(ESQUISSE7_R)
    extrude(amount=ENL_V_MAT_EXTRU_5_DEPTH, mode=Mode.SUBTRACT)


with BuildPart() as body_2:
    # Split3: the piece behind the surface
    add(part.part)
    # Split3 surface: a surface, the sketch's curves swept straight by 289.46 mm
    with BuildLine(Plane(origin=(42, 0, 0), x_dir=(0, 0, -1), z_dir=(1, 0, 0)).offset(-SPLIT3_SURFACE_1_BACK), mode=Mode.PRIVATE) as split3_surface_1_path:
        Line((49, 15), (35.5, 15))
    split3_surface_1 = Shell.extrude(split3_surface_1_path.wire(), (1 * SPLIT3_SURFACE_1_DEPTH, 0 * SPLIT3_SURFACE_1_DEPTH, 0 * SPLIT3_SURFACE_1_DEPTH))
    split(bisect_by=split3_surface_1, keep=Keep.BOTTOM)


with BuildPart() as part_1:
    add(part.part)

    # Split3: split by a surface, the side it looks to stays
    # Split3 surface: a surface, the sketch's curves swept straight by 289.46 mm
    with BuildLine(Plane(origin=(42, 0, 0), x_dir=(0, 0, -1), z_dir=(1, 0, 0)).offset(-SPLIT3_SURFACE_2_BACK), mode=Mode.PRIVATE) as split3_surface_2_path:
        Line((49, 15), (35.5, 15))
    split3_surface_2 = Shell.extrude(split3_surface_2_path.wire(), (1 * SPLIT3_SURFACE_2_DEPTH, 0 * SPLIT3_SURFACE_2_DEPTH, 0 * SPLIT3_SURFACE_2_DEPTH))
    split(bisect_by=split3_surface_2, keep=Keep.TOP)

    # Esquisse4 → Enlèv. mat.-Extru.2 (cut)
    with BuildSketch(Plane(origin=(0, 15, 0), x_dir=(1, 0, 0), z_dir=(0, 1, 0))):
        with Locations(Location((12, 27.5, 0), (0, 0, 270))):
            Circle(ESQUISSE4_R)
    extrude(amount=-ENL_V_MAT_EXTRU_2_DEPTH, mode=Mode.SUBTRACT)

    # Chanfrein1
    chanfrein1_edges = [part_1.edges().sort_by_distance(p)[0] for p in [
        (12, 15, -32.5),
        (12, 0, -32.5),
    ]]
    chamfer(chanfrein1_edges, length=CHANFREIN1_SIZE)


with BuildPart() as body_3:
    # Symétrie1: mirrored copy
    add(part_1.part.mirror(Plane(origin=(0, -27.525, -27.525), x_dir=(0, -0.7071067811865477, 0.7071067811865474), z_dir=(0, -0.7071067811865476, -0.7071067811865476))))


with BuildPart() as body_4:
    # Sym_trie1 2: mirrored copy
    add(body_2.part.mirror(Plane(origin=(0, -27.525, -27.525), x_dir=(0, -0.7071067811865477, 0.7071067811865474), z_dir=(0, -0.7071067811865476, -0.7071067811865476))))


solid = Compound([body_2.part, part_1.part, body_3.part, body_4.part])
